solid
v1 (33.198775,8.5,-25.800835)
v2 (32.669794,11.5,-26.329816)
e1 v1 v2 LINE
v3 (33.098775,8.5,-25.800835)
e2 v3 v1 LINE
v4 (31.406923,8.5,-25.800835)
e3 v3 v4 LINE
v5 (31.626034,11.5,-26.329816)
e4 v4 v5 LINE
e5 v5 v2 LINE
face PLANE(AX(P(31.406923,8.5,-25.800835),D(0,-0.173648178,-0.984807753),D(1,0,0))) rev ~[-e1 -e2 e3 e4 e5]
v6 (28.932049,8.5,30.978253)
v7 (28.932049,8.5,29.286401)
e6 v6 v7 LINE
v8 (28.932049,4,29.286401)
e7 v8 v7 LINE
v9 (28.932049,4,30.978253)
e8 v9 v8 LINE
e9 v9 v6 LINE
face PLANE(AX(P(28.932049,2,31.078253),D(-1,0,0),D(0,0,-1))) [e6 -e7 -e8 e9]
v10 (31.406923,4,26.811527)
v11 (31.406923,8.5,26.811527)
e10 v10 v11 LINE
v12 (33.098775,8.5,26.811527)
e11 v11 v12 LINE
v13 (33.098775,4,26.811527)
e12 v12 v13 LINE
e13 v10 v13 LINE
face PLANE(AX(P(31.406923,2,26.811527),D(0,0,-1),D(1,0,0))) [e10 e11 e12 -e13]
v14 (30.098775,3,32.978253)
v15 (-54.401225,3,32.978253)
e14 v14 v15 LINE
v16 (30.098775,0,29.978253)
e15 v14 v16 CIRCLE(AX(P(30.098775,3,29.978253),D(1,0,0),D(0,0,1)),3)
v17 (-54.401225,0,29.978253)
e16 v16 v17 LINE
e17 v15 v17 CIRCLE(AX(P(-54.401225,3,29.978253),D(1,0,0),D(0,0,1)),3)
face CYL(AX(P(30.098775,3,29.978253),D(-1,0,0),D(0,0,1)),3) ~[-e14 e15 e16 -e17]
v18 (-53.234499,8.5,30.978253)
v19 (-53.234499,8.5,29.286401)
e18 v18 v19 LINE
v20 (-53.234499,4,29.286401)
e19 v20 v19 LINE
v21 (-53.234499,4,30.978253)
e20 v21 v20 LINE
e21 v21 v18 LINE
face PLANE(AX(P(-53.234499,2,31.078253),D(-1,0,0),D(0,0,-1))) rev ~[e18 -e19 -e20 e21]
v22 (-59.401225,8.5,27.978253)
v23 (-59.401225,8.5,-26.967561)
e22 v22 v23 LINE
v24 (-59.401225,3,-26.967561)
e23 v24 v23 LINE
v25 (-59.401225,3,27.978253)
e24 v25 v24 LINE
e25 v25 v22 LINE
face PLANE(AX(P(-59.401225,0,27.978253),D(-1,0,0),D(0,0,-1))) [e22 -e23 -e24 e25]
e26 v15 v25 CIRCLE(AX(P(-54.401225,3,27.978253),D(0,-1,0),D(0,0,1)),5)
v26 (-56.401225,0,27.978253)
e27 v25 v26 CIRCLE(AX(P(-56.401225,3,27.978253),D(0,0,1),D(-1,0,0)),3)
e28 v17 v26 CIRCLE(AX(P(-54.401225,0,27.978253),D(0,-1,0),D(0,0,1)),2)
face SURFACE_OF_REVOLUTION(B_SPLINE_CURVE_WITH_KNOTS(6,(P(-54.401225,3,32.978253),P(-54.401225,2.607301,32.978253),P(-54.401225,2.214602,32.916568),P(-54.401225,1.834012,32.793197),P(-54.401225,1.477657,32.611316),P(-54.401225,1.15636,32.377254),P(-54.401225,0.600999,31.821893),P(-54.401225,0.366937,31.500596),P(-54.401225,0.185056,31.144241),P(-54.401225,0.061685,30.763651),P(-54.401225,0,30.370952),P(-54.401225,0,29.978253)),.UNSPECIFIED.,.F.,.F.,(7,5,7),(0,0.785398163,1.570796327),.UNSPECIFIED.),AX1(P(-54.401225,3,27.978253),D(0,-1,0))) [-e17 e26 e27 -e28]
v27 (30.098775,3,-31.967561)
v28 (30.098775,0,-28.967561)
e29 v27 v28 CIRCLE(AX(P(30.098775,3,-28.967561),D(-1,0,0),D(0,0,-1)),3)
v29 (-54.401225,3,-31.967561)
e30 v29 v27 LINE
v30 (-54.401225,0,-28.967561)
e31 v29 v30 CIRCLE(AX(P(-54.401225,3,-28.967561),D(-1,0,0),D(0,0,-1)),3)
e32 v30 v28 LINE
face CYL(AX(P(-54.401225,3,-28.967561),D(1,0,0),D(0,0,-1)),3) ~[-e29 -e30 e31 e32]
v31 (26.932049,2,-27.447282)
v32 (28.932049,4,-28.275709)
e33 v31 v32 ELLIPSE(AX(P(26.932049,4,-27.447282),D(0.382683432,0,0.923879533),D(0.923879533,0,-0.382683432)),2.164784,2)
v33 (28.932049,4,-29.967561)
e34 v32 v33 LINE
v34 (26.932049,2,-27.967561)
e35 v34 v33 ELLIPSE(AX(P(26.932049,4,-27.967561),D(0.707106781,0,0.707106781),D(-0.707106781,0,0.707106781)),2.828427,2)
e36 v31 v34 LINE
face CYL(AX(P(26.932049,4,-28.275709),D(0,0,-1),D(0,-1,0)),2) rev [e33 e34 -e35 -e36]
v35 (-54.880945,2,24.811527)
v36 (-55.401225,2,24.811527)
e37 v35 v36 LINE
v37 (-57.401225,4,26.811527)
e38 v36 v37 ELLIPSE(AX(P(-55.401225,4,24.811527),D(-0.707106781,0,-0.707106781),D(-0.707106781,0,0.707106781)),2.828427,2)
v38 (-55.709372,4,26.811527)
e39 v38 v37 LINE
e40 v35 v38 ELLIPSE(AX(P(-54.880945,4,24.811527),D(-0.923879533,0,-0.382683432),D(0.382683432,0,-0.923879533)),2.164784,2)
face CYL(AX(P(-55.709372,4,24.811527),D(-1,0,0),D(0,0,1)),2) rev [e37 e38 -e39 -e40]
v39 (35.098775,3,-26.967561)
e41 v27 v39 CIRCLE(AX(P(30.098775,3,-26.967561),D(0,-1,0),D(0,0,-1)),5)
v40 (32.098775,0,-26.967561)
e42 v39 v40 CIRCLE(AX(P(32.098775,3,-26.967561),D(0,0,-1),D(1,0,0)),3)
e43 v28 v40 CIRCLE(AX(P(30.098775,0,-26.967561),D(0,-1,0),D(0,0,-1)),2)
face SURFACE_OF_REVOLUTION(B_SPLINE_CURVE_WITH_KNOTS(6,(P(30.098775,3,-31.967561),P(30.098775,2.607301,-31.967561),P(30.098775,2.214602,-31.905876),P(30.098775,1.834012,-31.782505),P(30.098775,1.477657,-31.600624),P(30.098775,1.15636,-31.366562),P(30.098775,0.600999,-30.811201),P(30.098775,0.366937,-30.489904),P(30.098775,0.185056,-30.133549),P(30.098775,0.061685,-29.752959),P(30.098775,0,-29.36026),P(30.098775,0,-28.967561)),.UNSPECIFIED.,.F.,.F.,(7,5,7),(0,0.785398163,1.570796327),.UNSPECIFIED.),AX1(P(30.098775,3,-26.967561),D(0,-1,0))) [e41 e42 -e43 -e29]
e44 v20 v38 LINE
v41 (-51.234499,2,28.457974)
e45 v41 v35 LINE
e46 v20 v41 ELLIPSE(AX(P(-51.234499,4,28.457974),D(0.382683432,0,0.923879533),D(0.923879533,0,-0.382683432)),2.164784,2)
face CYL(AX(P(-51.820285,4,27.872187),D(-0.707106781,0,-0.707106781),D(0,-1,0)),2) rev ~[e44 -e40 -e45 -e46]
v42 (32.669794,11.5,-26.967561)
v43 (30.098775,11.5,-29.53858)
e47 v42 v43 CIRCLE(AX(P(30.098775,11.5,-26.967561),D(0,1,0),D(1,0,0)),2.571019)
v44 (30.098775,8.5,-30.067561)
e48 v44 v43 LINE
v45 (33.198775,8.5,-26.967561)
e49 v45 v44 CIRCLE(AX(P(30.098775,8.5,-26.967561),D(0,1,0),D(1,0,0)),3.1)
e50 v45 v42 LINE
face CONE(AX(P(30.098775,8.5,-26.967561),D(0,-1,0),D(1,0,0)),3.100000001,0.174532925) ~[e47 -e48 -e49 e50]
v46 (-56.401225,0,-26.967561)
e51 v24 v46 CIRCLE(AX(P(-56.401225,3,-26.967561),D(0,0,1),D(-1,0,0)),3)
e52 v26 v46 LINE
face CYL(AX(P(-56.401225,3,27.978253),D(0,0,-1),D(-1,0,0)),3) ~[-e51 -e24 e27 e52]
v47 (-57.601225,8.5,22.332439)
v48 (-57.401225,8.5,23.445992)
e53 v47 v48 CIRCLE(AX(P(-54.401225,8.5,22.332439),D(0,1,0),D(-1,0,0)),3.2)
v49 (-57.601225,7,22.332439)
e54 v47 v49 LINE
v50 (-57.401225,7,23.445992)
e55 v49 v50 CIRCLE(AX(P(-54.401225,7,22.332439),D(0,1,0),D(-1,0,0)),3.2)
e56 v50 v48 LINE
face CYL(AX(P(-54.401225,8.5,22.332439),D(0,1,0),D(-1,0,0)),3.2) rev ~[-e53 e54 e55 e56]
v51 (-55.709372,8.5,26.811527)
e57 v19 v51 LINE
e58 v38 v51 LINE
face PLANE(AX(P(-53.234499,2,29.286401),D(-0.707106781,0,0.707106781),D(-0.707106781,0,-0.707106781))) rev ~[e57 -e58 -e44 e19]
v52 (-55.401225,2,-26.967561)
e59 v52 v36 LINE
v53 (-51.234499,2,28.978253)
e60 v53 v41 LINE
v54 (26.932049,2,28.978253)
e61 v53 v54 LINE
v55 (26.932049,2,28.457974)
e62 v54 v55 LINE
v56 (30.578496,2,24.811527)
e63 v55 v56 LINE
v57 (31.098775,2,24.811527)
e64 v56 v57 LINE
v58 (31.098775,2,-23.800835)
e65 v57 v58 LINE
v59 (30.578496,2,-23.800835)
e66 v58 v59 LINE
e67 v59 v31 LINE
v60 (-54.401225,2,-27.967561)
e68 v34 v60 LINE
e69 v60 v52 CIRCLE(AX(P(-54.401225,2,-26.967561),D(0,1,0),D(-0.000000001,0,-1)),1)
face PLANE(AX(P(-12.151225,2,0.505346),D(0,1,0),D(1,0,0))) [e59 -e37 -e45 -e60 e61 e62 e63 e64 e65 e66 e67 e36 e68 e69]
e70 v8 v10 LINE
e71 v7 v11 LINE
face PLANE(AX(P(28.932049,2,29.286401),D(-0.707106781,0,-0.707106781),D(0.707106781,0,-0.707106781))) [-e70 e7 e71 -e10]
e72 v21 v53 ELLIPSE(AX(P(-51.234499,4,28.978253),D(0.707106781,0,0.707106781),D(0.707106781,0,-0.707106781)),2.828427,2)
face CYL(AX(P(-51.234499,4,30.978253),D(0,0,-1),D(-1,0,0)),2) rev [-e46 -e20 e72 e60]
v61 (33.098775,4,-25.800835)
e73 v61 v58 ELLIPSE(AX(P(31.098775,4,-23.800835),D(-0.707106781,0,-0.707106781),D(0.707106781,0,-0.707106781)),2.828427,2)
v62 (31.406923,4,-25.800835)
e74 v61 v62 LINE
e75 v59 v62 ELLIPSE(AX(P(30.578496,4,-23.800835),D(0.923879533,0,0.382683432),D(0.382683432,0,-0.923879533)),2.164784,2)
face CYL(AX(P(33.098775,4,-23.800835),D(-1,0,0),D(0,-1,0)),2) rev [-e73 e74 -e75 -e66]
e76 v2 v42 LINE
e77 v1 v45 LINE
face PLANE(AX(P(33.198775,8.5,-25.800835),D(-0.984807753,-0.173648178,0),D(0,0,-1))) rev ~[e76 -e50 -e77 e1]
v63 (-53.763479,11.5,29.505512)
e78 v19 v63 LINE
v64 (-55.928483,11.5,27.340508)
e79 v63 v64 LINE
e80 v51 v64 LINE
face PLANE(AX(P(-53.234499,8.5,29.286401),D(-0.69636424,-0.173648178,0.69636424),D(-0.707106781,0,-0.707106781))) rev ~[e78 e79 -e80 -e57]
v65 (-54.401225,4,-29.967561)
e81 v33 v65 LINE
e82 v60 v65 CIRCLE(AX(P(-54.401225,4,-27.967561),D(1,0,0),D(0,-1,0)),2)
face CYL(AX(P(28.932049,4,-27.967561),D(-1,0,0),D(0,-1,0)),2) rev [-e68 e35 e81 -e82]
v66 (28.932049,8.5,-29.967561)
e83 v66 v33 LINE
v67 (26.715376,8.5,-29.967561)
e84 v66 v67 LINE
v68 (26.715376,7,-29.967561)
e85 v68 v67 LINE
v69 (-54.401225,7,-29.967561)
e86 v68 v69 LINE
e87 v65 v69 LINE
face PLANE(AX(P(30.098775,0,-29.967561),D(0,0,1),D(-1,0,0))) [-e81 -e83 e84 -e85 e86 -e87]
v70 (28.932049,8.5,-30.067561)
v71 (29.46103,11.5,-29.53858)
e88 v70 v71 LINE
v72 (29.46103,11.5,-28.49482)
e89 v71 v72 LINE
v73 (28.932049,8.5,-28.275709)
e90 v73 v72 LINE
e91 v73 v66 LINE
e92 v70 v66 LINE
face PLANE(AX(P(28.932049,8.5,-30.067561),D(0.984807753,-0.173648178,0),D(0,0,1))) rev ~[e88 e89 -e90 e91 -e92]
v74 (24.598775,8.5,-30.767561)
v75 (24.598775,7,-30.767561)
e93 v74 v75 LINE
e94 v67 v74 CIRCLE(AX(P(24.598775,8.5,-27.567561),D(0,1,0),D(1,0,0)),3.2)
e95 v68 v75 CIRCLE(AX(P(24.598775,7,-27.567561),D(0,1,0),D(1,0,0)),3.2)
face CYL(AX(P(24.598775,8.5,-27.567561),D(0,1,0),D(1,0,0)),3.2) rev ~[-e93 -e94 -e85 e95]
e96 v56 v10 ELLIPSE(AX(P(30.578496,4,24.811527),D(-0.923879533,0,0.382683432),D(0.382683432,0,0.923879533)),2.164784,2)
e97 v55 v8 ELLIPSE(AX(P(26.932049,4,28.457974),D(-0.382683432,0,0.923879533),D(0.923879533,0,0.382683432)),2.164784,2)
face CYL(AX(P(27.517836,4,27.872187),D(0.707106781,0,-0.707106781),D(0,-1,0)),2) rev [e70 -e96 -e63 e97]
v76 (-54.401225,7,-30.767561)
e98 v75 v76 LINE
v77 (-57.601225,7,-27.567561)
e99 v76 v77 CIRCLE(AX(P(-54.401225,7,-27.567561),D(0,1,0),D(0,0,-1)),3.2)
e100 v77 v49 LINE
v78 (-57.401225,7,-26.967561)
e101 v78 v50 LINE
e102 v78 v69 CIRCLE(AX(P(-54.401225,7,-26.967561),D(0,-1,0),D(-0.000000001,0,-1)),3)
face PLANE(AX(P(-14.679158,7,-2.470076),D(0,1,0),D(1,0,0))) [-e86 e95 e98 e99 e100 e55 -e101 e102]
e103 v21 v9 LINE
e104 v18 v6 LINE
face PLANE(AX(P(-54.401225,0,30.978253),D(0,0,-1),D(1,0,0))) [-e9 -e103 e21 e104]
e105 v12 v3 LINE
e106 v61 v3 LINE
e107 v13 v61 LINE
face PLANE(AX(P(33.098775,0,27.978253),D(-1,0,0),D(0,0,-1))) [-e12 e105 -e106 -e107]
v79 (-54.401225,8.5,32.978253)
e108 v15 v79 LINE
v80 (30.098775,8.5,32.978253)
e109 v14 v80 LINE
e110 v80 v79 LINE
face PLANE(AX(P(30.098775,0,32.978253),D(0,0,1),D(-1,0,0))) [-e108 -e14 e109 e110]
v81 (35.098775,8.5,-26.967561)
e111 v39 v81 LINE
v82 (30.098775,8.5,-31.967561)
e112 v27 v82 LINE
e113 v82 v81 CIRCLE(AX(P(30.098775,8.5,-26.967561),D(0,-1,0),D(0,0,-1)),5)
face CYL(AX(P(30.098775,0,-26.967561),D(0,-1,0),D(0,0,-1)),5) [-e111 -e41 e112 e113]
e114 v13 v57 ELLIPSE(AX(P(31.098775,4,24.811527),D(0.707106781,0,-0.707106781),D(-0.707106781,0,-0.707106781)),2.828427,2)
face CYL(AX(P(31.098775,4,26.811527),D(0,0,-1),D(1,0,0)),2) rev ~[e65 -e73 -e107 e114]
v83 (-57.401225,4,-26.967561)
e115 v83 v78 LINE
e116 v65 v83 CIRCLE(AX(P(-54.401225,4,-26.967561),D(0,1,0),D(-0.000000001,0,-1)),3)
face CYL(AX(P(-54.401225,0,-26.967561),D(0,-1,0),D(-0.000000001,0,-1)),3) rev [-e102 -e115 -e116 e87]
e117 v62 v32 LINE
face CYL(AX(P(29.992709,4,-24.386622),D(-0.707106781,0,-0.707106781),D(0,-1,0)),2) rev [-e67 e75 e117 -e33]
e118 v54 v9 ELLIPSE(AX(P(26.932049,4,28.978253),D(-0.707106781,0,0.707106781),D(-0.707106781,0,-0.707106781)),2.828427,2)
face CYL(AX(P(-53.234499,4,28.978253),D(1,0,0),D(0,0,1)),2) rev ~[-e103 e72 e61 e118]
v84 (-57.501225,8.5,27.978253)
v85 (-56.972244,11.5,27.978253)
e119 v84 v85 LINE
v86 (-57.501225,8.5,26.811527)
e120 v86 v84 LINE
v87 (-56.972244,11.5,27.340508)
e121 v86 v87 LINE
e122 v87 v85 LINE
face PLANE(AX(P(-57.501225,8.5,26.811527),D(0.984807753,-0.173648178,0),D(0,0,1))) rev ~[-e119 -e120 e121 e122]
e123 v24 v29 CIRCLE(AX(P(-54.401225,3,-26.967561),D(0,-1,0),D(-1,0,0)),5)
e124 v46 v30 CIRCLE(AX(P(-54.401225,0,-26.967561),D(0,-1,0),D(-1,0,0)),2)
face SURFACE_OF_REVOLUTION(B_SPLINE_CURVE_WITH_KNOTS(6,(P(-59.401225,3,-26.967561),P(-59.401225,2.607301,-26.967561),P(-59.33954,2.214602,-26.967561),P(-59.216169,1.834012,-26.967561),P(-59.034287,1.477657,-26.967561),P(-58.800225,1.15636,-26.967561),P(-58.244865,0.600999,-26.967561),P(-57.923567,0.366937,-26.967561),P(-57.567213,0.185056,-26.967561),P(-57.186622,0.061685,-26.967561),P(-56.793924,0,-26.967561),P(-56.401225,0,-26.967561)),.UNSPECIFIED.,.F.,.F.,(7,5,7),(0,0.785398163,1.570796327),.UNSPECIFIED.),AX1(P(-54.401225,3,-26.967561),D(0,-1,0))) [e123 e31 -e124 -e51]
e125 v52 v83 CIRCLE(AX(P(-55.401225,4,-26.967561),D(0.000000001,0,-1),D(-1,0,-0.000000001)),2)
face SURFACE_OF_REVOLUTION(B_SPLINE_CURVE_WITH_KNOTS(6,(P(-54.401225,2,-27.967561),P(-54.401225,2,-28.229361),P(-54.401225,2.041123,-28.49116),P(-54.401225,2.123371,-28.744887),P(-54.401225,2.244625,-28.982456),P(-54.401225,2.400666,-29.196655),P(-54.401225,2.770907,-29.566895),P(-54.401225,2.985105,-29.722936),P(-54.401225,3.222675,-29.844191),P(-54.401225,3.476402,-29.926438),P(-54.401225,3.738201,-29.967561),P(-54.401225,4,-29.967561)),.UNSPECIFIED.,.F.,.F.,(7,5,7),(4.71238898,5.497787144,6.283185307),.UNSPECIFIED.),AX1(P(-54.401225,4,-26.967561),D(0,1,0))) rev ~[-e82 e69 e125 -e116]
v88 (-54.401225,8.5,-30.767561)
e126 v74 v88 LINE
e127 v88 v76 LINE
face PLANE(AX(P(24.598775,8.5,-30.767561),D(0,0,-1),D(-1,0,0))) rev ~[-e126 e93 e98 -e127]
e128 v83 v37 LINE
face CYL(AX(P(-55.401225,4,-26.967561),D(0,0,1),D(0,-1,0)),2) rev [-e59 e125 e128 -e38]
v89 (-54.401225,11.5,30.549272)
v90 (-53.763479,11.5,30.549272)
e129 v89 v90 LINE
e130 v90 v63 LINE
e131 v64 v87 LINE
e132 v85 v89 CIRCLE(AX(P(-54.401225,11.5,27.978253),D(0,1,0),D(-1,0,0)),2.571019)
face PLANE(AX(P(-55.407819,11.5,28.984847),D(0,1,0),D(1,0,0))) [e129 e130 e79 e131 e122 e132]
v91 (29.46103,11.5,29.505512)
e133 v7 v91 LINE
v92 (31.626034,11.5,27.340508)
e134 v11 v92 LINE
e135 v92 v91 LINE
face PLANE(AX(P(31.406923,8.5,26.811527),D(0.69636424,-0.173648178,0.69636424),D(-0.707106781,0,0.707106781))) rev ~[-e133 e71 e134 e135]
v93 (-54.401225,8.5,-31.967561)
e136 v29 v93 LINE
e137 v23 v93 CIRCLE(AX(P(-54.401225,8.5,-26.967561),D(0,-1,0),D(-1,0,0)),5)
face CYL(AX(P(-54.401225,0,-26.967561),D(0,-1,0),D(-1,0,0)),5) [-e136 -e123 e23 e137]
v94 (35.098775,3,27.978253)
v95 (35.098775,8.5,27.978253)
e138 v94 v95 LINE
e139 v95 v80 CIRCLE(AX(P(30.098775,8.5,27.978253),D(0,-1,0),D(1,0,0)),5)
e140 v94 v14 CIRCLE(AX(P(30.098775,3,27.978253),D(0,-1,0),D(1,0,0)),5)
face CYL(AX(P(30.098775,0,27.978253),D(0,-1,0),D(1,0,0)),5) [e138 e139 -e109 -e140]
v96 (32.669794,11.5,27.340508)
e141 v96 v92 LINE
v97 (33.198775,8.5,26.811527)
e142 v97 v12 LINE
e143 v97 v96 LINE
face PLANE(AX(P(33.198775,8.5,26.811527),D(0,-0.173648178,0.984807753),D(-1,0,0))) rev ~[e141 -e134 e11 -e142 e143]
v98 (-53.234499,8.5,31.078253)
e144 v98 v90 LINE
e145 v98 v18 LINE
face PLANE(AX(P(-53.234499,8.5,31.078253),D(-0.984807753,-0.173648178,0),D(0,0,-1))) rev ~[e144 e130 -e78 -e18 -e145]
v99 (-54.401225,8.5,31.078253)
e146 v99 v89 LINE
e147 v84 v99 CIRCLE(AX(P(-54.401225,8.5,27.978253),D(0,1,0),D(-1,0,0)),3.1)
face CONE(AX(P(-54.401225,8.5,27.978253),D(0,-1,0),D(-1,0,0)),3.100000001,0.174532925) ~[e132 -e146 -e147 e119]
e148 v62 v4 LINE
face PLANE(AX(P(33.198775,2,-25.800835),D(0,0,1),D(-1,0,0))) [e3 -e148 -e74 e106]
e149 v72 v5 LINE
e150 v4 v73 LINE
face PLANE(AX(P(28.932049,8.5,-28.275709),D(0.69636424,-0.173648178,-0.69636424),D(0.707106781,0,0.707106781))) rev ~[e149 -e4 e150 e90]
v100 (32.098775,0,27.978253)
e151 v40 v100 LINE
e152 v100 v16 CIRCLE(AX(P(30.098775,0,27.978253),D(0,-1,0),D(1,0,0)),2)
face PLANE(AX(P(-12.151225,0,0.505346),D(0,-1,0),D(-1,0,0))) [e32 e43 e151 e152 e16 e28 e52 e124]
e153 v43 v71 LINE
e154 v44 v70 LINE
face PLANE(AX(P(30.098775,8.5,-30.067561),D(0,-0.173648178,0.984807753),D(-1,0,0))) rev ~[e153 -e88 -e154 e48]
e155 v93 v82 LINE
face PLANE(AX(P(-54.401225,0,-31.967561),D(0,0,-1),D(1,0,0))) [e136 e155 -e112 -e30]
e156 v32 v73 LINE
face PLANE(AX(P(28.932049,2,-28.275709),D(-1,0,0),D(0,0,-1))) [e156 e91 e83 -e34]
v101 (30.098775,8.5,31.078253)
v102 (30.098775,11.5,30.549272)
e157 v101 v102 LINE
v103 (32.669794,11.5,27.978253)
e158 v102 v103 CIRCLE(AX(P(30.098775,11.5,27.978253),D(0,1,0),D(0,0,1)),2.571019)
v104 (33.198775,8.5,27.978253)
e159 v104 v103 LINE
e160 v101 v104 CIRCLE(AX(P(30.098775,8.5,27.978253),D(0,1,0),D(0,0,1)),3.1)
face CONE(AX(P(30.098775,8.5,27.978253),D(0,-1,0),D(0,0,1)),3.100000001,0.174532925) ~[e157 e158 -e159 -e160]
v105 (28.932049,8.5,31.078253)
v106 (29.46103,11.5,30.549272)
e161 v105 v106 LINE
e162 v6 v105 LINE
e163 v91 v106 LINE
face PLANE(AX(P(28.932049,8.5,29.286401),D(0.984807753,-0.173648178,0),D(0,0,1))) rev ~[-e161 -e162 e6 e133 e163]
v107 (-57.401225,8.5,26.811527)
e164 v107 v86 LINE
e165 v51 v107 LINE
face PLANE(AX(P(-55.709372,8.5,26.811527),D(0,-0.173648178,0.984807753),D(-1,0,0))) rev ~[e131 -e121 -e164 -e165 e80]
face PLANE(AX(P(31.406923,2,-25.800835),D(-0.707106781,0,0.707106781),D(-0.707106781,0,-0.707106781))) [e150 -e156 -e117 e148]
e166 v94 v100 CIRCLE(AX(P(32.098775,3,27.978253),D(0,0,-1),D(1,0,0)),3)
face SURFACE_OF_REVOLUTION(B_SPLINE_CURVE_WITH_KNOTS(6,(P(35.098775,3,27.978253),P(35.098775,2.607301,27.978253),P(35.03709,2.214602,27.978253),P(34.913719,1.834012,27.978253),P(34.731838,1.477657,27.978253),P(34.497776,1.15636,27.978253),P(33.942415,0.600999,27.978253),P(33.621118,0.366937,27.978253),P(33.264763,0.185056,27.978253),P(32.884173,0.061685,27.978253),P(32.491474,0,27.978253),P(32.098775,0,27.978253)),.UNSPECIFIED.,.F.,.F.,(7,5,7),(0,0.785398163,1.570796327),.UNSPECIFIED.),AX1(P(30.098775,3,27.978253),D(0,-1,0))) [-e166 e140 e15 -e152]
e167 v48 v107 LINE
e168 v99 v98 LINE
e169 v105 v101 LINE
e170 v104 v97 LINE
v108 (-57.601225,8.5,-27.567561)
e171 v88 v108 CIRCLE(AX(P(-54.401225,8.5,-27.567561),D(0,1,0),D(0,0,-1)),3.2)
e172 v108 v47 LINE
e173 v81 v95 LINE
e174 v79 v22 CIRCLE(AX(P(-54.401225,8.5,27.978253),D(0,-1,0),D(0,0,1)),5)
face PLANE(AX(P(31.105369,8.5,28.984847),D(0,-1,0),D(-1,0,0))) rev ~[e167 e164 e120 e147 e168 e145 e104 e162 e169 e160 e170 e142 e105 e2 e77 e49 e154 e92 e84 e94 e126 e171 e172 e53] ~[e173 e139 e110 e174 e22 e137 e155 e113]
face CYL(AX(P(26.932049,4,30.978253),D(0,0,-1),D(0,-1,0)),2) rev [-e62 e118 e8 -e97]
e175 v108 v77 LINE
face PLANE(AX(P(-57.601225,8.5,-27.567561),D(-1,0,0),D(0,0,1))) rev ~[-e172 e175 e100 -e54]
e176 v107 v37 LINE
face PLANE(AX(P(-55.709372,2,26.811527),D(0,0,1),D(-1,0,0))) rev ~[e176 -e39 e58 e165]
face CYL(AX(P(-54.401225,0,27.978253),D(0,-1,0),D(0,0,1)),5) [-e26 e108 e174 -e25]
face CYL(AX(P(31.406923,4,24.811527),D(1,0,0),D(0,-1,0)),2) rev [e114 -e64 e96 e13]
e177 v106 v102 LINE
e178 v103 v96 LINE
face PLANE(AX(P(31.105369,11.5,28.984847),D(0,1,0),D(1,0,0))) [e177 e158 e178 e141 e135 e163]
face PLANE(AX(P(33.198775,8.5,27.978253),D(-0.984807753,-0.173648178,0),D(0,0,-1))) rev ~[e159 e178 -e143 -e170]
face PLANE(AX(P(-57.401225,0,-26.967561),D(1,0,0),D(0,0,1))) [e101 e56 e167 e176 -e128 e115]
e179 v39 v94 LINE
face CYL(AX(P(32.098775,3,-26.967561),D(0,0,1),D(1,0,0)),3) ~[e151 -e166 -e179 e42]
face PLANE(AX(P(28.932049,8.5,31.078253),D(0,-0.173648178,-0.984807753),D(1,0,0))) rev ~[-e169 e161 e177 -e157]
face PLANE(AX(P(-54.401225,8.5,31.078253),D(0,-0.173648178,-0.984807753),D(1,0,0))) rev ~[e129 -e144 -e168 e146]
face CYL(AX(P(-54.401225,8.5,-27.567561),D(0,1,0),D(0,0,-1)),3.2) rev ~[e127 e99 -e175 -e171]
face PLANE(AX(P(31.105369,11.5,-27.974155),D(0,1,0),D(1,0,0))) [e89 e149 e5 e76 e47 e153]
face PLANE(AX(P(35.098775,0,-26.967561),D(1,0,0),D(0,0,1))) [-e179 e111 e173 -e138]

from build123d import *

# Parameters (mm, degrees)
BOSS_EXTRUDE1_DEPTH           = 2
BOSS_EXTRUDE2_DEPTH           = 8.5
CUT_EXTRUDE1_DEPTH            = 1.5
BOSS_EXTRUDE3_DEPTH           = 6.5
BOSS_EXTRUDE4_START           = 6.5
BOSS_EXTRUDE4_DEPTH           = 3
BOSS_EXTRUDE4_DRAFT           = 10
BOSS_EXTRUDE4_PROFILE_2_DEPTH = 3
BOSS_EXTRUDE4_PROFILE_2_DRAFT = 10
BOSS_EXTRUDE4_PROFILE_3_DEPTH = 3
BOSS_EXTRUDE4_PROFILE_3_DRAFT = 10
FILLET1_R                     = 3
FILLET2_R                     = 2


with BuildPart() as part:
    # Sketch1 → Boss-Extrude1 (new body)
    with BuildSketch(Plane(origin=(0, 0, 0), x_dir=(1, 0, 0), z_dir=(0, 1, 0))):
        with BuildLine():
            Line((-54.401224723, -30.978253121), (30.098775277, -30.978253121))
            ThreePointArc((30.098775277, -30.978253121), (32.220095621, -30.099573464), (33.098775277, -27.978253121))
            Line((33.098775277, -27.978253121), (33.098775277, 26.967561283))
            ThreePointArc((33.098775277, 26.967561283), (32.220095621, 29.088881626), (30.098775277, 29.967561283))
            Line((30.098775277, 29.967561283), (-54.401224723, 29.967561283))
            ThreePointArc((-54.401224723, 29.967561283), (-56.522545066, 29.088881626), (-57.401224723, 26.967561283))
            Line((-57.401224723, 26.967561283), (-57.401224723, -27.978253121))
            ThreePointArc((-57.401224723, -27.978253121), (-56.522545066, -30.099573464), (-54.401224723, -30.978253121))
        make_face()
    extrude(amount=BOSS_EXTRUDE1_DEPTH)

    # Sketch1<3> → Boss-Extrude2 (add)
    with BuildSketch(Plane(origin=(0, 0, 0), x_dir=(1, 0, 0), z_dir=(0, 1, 0))):
        with BuildLine():
            Line((-54.401224723, 31.967561283), (30.098775277, 31.967561283))
            ThreePointArc((30.098775277, 31.967561283), (33.634309183, 30.503095189), (35.098775277, 26.967561283))
            Line((35.098775277, 26.967561283), (35.098775277, -27.978253121))
            ThreePointArc((35.098775277, -27.978253121), (33.634309183, -31.513787026), (30.098775277, -32.978253121))
            Line((30.098775277, -32.978253121), (-54.401224723, -32.978253121))
            ThreePointArc((-54.401224723, -32.978253121), (-57.936758629, -31.513787026), (-59.401224723, -27.978253121))
            Line((-59.401224723, -27.978253121), (-59.401224723, 26.967561283))
            ThreePointArc((-59.401224723, 26.967561283), (-57.936758629, 30.503095189), (-54.401224723, 31.967561283))
        make_face()
        with BuildLine():
            Line((-54.401224723, -30.978253121), (30.098775277, -30.978253121))
            ThreePointArc((30.098775277, -30.978253121), (32.220095621, -30.099573464), (33.098775277, -27.978253121))
            Line((33.098775277, -27.978253121), (33.098775277, 26.967561283))
            ThreePointArc((33.098775277, 26.967561283), (32.220095621, 29.088881626), (30.098775277, 29.967561283))
            Line((30.098775277, 29.967561283), (-54.401224723, 29.967561283))
            ThreePointArc((-54.401224723, 29.967561283), (-56.522545066, 29.088881626), (-57.401224723, 26.967561283))
            Line((-57.401224723, 26.967561283), (-57.401224723, -27.978253121))
            ThreePointArc((-57.401224723, -27.978253121), (-56.522545066, -30.099573464), (-54.401224723, -30.978253121))
        make_face(mode=Mode.SUBTRACT)
    extrude(amount=BOSS_EXTRUDE2_DEPTH)

    # Sketch2 → Cut-Extrude1 (cut)
    with BuildSketch(Plane(origin=(0, 8.5, 0), x_dir=(1, 0, 0), z_dir=(0, 1, 0))):
        with BuildLine():
            Line((27.798775277, -25.532438717), (27.798775277, 27.567561283))
            ThreePointArc((27.798775277, 27.567561283), (26.861516977, 29.830302983), (24.598775277, 30.767561283))
            Line((24.598775277, 30.767561283), (-54.401224723, 30.767561283))
            ThreePointArc((-54.401224723, 30.767561283), (-56.663966423, 29.830302983), (-57.601224723, 27.567561283))
            Line((-57.601224723, 27.567561283), (-57.601224723, -22.332438717))
            ThreePointArc((-57.601224723, -22.332438717), (-56.663966423, -24.595180417), (-54.401224723, -25.532438717))
            Line((-54.401224723, -25.532438717), (27.798775277, -25.532438717))
        make_face()
    extrude(amount=-CUT_EXTRUDE1_DEPTH, mode=Mode.SUBTRACT)

    # Sketch3 → Boss-Extrude3 (add)
    with BuildSketch(Plane(origin=(0, 2, 0), x_dir=(1, 0, 0), z_dir=(0, 1, 0))):
        with BuildLine():
            Line((28.932049088, -29.286400666), (31.406922822, -26.811526932))
            Line((31.406922822, -26.811526932), (33.198775277, -26.811526932))
            Line((33.198775277, -26.811526932), (33.198775277, -27.978253121))
            ThreePointArc((33.198775277, -27.978253121), (32.290806299, -30.170284142), (30.098775277, -31.078253121))
            Line((30.098775277, -31.078253121), (28.932049088, -31.078253121))
            Line((28.932049088, -31.078253121), (28.932049088, -29.286400666))
        make_face()
        with BuildLine():
            Line((31.406922822, 25.800835094), (28.932049088, 28.275708828))
            Line((28.932049088, 28.275708828), (28.932049088, 30.067561283))
            Line((28.932049088, 30.067561283), (30.098775277, 30.067561283))
            ThreePointArc((30.098775277, 30.067561283), (32.290806299, 29.159592304), (33.198775277, 26.967561283))
            Line((33.198775277, 26.967561283), (33.198775277, 25.800835094))
            Line((33.198775277, 25.800835094), (31.406922822, 25.800835094))
        make_face()
        with BuildLine():
            Line((-53.234498534, -29.286400666), (-55.709372268, -26.811526932))
            Line((-55.709372268, -26.811526932), (-57.501224723, -26.811526932))
            Line((-57.501224723, -26.811526932), (-57.501224723, -27.978253121))
            ThreePointArc((-57.501224723, -27.978253121), (-56.593255745, -30.170284142), (-54.401224723, -31.078253121))
            Line((-54.401224723, -31.078253121), (-53.234498534, -31.078253121))
            Line((-53.234498534, -31.078253121), (-53.234498534, -29.286400666))
        make_face()
    extrude(amount=BOSS_EXTRUDE3_DEPTH)


with BuildPart() as boss_extrude4_tool:
    # Sketch3<2> → Boss-Extrude4 (with draft: the straight prism first)
    with BuildSketch(Plane(origin=(0, 2, 0), x_dir=(1, 0, 0), z_dir=(0, 1, 0)).offset(BOSS_EXTRUDE4_START)):
        with BuildLine():
            Line((28.932049088, -29.286400666), (28.932049088, -31.078253121))
            Line((28.932049088, -31.078253121), (30.098775277, -31.078253121))
            ThreePointArc((30.098775277, -31.078253121), (32.290806299, -30.170284142), (33.198775277, -27.978253121))
            Line((33.198775277, -27.978253121), (33.198775277, -26.811526932))
            Line((33.198775277, -26.811526932), (31.406922822, -26.811526932))
            Line((31.406922822, -26.811526932), (28.932049088, -29.286400666))
        make_face()
    extrude(amount=BOSS_EXTRUDE4_DEPTH)
    # Boss-Extrude4: the draft: its side faces are tilted about the plane it starts from
    boss_extrude4_sides = [boss_extrude4_tool.faces().sort_by_distance(p)[0] for p in [
        (28.932049088, 10, 30.182326893),
        (29.515412183, 10, 31.078253121),
        (32.290806299, 10, 30.170284142),
        (33.198775277, 10, 27.394890026),
        (32.30284905, 10, 26.811526932),
        (30.169485955, 10, 28.048963799),
    ]]
    draft(boss_extrude4_sides, Plane(origin=(0, 2, 0), x_dir=(1, 0, 0), z_dir=(0, 1, 0)).offset(BOSS_EXTRUDE4_START), BOSS_EXTRUDE4_DRAFT)


with BuildPart() as part_1:
    add(part.part)

    # Boss-Extrude4: add boss_extrude4_tool
    add(boss_extrude4_tool.part)


with BuildPart() as boss_extrude4_profile_2_tool:
    # Sketch3<2> → Boss-Extrude4 profile 2 (with draft: the straight prism first)
    with BuildSketch(Plane(origin=(0, 2, 0), x_dir=(1, 0, 0), z_dir=(0, 1, 0)).offset(BOSS_EXTRUDE4_START)):
        with BuildLine():
            Line((31.406922822, 25.800835094), (33.198775277, 25.800835094))
            Line((33.198775277, 25.800835094), (33.198775277, 26.967561283))
            ThreePointArc((33.198775277, 26.967561283), (32.290806299, 29.159592304), (30.098775277, 30.067561283))
            Line((30.098775277, 30.067561283), (28.932049088, 30.067561283))
            Line((28.932049088, 30.067561283), (28.932049088, 28.275708828))
            Line((28.932049088, 28.275708828), (31.406922822, 25.800835094))
        make_face()
    extrude(amount=BOSS_EXTRUDE4_PROFILE_2_DEPTH)
    # Boss-Extrude4 profile 2: the draft: its side faces are tilted about the plane it starts from
    boss_extrude4_profile_2_sides = [boss_extrude4_profile_2_tool.faces().sort_by_distance(p)[0] for p in [
        (32.30284905, 10, -25.800835094),
        (33.198775277, 10, -26.384198188),
        (32.290806299, 10, -29.159592304),
        (29.515412183, 10, -30.067561283),
        (28.932049088, 10, -29.171635055),
        (30.169485955, 10, -27.038271961),
    ]]
    draft(boss_extrude4_profile_2_sides, Plane(origin=(0, 2, 0), x_dir=(1, 0, 0), z_dir=(0, 1, 0)).offset(BOSS_EXTRUDE4_START), BOSS_EXTRUDE4_PROFILE_2_DRAFT)


with BuildPart() as part_2:
    add(part_1.part)

    # Boss-Extrude4 profile 2: add boss_extrude4_profile_2_tool
    add(boss_extrude4_profile_2_tool.part)


with BuildPart() as boss_extrude4_profile_3_tool:
    # Sketch3<2> → Boss-Extrude4 profile 3 (with draft: the straight prism first)
    with BuildSketch(Plane(origin=(0, 2, 0), x_dir=(1, 0, 0), z_dir=(0, 1, 0)).offset(BOSS_EXTRUDE4_START)):
        with BuildLine():
            Line((-53.234498534, -29.286400666), (-55.709372268, -26.811526932))
            Line((-55.709372268, -26.811526932), (-57.501224723, -26.811526932))
            Line((-57.501224723, -26.811526932), (-57.501224723, -27.978253121))
            ThreePointArc((-57.501224723, -27.978253121), (-56.593255745, -30.170284142), (-54.401224723, -31.078253121))
            Line((-54.401224723, -31.078253121), (-53.234498534, -31.078253121))
            Line((-53.234498534, -31.078253121), (-53.234498534, -29.286400666))
        make_face()
    extrude(amount=BOSS_EXTRUDE4_PROFILE_3_DEPTH)
    # Boss-Extrude4 profile 3: the draft: its side faces are tilted about the plane it starts from
    boss_extrude4_profile_3_sides = [boss_extrude4_profile_3_tool.faces().sort_by_distance(p)[0] for p in [
        (-54.471935401, 10, 28.048963799),
        (-56.605298496, 10, 26.811526932),
        (-57.501224723, 10, 27.394890026),
        (-56.593255745, 10, 30.170284142),
        (-53.817861628, 10, 31.078253121),
        (-53.234498534, 10, 30.182326893),
    ]]
    draft(boss_extrude4_profile_3_sides, Plane(origin=(0, 2, 0), x_dir=(1, 0, 0), z_dir=(0, 1, 0)).offset(BOSS_EXTRUDE4_START), BOSS_EXTRUDE4_PROFILE_3_DRAFT)


with BuildPart() as part_3:
    add(part_2.part)

    # Boss-Extrude4 profile 3: add boss_extrude4_profile_3_tool
    add(boss_extrude4_profile_3_tool.part)

    # Fillet1
    fillet1_edges = [part_3.edges().sort_by_distance(p)[0] for p in [
        (-12.151224723, 0, -31.967561283),
        (33.634309183, 0, -30.503095189),
        (35.098775277, 0, 0.505345919),
        (33.634309183, 0, 31.513787026),
        (-12.151224723, 0, 32.978253121),
        (-57.936758629, 0, 31.513787026),
        (-59.401224723, 0, 0.505345919),
        (-57.936758629, 0, -30.503095189),
    ]]
    fillet(fillet1_edges, radius=FILLET1_R)

    # Fillet2
    fillet2_edges = [part_3.edges().sort_by_distance(p)[0] for p in [
        (-56.522545066, 2, -29.088881626),
        (33.098775277, 2, 0.505345919),
        (32.25284905, 2, 26.811526932),
        (30.169485955, 2, 28.048963799),
        (28.932049088, 2, 30.132326893),
        (-57.401224723, 2, -0.078017176),
        (-12.151224723, 2, 30.978253121),
        (-53.234498534, 2, 30.132326893),
        (-54.471935401, 2, 28.048963799),
        (-12.734587817, 2, -29.967561283),
        (-56.555298496, 2, 26.811526932),
        (28.932049088, 2, -29.121635055),
        (30.169485955, 2, -27.038271961),
        (32.25284905, 2, -25.800835094),
    ]]
    fillet(fillet2_edges, radius=FILLET2_R)


solid = part_3.part
